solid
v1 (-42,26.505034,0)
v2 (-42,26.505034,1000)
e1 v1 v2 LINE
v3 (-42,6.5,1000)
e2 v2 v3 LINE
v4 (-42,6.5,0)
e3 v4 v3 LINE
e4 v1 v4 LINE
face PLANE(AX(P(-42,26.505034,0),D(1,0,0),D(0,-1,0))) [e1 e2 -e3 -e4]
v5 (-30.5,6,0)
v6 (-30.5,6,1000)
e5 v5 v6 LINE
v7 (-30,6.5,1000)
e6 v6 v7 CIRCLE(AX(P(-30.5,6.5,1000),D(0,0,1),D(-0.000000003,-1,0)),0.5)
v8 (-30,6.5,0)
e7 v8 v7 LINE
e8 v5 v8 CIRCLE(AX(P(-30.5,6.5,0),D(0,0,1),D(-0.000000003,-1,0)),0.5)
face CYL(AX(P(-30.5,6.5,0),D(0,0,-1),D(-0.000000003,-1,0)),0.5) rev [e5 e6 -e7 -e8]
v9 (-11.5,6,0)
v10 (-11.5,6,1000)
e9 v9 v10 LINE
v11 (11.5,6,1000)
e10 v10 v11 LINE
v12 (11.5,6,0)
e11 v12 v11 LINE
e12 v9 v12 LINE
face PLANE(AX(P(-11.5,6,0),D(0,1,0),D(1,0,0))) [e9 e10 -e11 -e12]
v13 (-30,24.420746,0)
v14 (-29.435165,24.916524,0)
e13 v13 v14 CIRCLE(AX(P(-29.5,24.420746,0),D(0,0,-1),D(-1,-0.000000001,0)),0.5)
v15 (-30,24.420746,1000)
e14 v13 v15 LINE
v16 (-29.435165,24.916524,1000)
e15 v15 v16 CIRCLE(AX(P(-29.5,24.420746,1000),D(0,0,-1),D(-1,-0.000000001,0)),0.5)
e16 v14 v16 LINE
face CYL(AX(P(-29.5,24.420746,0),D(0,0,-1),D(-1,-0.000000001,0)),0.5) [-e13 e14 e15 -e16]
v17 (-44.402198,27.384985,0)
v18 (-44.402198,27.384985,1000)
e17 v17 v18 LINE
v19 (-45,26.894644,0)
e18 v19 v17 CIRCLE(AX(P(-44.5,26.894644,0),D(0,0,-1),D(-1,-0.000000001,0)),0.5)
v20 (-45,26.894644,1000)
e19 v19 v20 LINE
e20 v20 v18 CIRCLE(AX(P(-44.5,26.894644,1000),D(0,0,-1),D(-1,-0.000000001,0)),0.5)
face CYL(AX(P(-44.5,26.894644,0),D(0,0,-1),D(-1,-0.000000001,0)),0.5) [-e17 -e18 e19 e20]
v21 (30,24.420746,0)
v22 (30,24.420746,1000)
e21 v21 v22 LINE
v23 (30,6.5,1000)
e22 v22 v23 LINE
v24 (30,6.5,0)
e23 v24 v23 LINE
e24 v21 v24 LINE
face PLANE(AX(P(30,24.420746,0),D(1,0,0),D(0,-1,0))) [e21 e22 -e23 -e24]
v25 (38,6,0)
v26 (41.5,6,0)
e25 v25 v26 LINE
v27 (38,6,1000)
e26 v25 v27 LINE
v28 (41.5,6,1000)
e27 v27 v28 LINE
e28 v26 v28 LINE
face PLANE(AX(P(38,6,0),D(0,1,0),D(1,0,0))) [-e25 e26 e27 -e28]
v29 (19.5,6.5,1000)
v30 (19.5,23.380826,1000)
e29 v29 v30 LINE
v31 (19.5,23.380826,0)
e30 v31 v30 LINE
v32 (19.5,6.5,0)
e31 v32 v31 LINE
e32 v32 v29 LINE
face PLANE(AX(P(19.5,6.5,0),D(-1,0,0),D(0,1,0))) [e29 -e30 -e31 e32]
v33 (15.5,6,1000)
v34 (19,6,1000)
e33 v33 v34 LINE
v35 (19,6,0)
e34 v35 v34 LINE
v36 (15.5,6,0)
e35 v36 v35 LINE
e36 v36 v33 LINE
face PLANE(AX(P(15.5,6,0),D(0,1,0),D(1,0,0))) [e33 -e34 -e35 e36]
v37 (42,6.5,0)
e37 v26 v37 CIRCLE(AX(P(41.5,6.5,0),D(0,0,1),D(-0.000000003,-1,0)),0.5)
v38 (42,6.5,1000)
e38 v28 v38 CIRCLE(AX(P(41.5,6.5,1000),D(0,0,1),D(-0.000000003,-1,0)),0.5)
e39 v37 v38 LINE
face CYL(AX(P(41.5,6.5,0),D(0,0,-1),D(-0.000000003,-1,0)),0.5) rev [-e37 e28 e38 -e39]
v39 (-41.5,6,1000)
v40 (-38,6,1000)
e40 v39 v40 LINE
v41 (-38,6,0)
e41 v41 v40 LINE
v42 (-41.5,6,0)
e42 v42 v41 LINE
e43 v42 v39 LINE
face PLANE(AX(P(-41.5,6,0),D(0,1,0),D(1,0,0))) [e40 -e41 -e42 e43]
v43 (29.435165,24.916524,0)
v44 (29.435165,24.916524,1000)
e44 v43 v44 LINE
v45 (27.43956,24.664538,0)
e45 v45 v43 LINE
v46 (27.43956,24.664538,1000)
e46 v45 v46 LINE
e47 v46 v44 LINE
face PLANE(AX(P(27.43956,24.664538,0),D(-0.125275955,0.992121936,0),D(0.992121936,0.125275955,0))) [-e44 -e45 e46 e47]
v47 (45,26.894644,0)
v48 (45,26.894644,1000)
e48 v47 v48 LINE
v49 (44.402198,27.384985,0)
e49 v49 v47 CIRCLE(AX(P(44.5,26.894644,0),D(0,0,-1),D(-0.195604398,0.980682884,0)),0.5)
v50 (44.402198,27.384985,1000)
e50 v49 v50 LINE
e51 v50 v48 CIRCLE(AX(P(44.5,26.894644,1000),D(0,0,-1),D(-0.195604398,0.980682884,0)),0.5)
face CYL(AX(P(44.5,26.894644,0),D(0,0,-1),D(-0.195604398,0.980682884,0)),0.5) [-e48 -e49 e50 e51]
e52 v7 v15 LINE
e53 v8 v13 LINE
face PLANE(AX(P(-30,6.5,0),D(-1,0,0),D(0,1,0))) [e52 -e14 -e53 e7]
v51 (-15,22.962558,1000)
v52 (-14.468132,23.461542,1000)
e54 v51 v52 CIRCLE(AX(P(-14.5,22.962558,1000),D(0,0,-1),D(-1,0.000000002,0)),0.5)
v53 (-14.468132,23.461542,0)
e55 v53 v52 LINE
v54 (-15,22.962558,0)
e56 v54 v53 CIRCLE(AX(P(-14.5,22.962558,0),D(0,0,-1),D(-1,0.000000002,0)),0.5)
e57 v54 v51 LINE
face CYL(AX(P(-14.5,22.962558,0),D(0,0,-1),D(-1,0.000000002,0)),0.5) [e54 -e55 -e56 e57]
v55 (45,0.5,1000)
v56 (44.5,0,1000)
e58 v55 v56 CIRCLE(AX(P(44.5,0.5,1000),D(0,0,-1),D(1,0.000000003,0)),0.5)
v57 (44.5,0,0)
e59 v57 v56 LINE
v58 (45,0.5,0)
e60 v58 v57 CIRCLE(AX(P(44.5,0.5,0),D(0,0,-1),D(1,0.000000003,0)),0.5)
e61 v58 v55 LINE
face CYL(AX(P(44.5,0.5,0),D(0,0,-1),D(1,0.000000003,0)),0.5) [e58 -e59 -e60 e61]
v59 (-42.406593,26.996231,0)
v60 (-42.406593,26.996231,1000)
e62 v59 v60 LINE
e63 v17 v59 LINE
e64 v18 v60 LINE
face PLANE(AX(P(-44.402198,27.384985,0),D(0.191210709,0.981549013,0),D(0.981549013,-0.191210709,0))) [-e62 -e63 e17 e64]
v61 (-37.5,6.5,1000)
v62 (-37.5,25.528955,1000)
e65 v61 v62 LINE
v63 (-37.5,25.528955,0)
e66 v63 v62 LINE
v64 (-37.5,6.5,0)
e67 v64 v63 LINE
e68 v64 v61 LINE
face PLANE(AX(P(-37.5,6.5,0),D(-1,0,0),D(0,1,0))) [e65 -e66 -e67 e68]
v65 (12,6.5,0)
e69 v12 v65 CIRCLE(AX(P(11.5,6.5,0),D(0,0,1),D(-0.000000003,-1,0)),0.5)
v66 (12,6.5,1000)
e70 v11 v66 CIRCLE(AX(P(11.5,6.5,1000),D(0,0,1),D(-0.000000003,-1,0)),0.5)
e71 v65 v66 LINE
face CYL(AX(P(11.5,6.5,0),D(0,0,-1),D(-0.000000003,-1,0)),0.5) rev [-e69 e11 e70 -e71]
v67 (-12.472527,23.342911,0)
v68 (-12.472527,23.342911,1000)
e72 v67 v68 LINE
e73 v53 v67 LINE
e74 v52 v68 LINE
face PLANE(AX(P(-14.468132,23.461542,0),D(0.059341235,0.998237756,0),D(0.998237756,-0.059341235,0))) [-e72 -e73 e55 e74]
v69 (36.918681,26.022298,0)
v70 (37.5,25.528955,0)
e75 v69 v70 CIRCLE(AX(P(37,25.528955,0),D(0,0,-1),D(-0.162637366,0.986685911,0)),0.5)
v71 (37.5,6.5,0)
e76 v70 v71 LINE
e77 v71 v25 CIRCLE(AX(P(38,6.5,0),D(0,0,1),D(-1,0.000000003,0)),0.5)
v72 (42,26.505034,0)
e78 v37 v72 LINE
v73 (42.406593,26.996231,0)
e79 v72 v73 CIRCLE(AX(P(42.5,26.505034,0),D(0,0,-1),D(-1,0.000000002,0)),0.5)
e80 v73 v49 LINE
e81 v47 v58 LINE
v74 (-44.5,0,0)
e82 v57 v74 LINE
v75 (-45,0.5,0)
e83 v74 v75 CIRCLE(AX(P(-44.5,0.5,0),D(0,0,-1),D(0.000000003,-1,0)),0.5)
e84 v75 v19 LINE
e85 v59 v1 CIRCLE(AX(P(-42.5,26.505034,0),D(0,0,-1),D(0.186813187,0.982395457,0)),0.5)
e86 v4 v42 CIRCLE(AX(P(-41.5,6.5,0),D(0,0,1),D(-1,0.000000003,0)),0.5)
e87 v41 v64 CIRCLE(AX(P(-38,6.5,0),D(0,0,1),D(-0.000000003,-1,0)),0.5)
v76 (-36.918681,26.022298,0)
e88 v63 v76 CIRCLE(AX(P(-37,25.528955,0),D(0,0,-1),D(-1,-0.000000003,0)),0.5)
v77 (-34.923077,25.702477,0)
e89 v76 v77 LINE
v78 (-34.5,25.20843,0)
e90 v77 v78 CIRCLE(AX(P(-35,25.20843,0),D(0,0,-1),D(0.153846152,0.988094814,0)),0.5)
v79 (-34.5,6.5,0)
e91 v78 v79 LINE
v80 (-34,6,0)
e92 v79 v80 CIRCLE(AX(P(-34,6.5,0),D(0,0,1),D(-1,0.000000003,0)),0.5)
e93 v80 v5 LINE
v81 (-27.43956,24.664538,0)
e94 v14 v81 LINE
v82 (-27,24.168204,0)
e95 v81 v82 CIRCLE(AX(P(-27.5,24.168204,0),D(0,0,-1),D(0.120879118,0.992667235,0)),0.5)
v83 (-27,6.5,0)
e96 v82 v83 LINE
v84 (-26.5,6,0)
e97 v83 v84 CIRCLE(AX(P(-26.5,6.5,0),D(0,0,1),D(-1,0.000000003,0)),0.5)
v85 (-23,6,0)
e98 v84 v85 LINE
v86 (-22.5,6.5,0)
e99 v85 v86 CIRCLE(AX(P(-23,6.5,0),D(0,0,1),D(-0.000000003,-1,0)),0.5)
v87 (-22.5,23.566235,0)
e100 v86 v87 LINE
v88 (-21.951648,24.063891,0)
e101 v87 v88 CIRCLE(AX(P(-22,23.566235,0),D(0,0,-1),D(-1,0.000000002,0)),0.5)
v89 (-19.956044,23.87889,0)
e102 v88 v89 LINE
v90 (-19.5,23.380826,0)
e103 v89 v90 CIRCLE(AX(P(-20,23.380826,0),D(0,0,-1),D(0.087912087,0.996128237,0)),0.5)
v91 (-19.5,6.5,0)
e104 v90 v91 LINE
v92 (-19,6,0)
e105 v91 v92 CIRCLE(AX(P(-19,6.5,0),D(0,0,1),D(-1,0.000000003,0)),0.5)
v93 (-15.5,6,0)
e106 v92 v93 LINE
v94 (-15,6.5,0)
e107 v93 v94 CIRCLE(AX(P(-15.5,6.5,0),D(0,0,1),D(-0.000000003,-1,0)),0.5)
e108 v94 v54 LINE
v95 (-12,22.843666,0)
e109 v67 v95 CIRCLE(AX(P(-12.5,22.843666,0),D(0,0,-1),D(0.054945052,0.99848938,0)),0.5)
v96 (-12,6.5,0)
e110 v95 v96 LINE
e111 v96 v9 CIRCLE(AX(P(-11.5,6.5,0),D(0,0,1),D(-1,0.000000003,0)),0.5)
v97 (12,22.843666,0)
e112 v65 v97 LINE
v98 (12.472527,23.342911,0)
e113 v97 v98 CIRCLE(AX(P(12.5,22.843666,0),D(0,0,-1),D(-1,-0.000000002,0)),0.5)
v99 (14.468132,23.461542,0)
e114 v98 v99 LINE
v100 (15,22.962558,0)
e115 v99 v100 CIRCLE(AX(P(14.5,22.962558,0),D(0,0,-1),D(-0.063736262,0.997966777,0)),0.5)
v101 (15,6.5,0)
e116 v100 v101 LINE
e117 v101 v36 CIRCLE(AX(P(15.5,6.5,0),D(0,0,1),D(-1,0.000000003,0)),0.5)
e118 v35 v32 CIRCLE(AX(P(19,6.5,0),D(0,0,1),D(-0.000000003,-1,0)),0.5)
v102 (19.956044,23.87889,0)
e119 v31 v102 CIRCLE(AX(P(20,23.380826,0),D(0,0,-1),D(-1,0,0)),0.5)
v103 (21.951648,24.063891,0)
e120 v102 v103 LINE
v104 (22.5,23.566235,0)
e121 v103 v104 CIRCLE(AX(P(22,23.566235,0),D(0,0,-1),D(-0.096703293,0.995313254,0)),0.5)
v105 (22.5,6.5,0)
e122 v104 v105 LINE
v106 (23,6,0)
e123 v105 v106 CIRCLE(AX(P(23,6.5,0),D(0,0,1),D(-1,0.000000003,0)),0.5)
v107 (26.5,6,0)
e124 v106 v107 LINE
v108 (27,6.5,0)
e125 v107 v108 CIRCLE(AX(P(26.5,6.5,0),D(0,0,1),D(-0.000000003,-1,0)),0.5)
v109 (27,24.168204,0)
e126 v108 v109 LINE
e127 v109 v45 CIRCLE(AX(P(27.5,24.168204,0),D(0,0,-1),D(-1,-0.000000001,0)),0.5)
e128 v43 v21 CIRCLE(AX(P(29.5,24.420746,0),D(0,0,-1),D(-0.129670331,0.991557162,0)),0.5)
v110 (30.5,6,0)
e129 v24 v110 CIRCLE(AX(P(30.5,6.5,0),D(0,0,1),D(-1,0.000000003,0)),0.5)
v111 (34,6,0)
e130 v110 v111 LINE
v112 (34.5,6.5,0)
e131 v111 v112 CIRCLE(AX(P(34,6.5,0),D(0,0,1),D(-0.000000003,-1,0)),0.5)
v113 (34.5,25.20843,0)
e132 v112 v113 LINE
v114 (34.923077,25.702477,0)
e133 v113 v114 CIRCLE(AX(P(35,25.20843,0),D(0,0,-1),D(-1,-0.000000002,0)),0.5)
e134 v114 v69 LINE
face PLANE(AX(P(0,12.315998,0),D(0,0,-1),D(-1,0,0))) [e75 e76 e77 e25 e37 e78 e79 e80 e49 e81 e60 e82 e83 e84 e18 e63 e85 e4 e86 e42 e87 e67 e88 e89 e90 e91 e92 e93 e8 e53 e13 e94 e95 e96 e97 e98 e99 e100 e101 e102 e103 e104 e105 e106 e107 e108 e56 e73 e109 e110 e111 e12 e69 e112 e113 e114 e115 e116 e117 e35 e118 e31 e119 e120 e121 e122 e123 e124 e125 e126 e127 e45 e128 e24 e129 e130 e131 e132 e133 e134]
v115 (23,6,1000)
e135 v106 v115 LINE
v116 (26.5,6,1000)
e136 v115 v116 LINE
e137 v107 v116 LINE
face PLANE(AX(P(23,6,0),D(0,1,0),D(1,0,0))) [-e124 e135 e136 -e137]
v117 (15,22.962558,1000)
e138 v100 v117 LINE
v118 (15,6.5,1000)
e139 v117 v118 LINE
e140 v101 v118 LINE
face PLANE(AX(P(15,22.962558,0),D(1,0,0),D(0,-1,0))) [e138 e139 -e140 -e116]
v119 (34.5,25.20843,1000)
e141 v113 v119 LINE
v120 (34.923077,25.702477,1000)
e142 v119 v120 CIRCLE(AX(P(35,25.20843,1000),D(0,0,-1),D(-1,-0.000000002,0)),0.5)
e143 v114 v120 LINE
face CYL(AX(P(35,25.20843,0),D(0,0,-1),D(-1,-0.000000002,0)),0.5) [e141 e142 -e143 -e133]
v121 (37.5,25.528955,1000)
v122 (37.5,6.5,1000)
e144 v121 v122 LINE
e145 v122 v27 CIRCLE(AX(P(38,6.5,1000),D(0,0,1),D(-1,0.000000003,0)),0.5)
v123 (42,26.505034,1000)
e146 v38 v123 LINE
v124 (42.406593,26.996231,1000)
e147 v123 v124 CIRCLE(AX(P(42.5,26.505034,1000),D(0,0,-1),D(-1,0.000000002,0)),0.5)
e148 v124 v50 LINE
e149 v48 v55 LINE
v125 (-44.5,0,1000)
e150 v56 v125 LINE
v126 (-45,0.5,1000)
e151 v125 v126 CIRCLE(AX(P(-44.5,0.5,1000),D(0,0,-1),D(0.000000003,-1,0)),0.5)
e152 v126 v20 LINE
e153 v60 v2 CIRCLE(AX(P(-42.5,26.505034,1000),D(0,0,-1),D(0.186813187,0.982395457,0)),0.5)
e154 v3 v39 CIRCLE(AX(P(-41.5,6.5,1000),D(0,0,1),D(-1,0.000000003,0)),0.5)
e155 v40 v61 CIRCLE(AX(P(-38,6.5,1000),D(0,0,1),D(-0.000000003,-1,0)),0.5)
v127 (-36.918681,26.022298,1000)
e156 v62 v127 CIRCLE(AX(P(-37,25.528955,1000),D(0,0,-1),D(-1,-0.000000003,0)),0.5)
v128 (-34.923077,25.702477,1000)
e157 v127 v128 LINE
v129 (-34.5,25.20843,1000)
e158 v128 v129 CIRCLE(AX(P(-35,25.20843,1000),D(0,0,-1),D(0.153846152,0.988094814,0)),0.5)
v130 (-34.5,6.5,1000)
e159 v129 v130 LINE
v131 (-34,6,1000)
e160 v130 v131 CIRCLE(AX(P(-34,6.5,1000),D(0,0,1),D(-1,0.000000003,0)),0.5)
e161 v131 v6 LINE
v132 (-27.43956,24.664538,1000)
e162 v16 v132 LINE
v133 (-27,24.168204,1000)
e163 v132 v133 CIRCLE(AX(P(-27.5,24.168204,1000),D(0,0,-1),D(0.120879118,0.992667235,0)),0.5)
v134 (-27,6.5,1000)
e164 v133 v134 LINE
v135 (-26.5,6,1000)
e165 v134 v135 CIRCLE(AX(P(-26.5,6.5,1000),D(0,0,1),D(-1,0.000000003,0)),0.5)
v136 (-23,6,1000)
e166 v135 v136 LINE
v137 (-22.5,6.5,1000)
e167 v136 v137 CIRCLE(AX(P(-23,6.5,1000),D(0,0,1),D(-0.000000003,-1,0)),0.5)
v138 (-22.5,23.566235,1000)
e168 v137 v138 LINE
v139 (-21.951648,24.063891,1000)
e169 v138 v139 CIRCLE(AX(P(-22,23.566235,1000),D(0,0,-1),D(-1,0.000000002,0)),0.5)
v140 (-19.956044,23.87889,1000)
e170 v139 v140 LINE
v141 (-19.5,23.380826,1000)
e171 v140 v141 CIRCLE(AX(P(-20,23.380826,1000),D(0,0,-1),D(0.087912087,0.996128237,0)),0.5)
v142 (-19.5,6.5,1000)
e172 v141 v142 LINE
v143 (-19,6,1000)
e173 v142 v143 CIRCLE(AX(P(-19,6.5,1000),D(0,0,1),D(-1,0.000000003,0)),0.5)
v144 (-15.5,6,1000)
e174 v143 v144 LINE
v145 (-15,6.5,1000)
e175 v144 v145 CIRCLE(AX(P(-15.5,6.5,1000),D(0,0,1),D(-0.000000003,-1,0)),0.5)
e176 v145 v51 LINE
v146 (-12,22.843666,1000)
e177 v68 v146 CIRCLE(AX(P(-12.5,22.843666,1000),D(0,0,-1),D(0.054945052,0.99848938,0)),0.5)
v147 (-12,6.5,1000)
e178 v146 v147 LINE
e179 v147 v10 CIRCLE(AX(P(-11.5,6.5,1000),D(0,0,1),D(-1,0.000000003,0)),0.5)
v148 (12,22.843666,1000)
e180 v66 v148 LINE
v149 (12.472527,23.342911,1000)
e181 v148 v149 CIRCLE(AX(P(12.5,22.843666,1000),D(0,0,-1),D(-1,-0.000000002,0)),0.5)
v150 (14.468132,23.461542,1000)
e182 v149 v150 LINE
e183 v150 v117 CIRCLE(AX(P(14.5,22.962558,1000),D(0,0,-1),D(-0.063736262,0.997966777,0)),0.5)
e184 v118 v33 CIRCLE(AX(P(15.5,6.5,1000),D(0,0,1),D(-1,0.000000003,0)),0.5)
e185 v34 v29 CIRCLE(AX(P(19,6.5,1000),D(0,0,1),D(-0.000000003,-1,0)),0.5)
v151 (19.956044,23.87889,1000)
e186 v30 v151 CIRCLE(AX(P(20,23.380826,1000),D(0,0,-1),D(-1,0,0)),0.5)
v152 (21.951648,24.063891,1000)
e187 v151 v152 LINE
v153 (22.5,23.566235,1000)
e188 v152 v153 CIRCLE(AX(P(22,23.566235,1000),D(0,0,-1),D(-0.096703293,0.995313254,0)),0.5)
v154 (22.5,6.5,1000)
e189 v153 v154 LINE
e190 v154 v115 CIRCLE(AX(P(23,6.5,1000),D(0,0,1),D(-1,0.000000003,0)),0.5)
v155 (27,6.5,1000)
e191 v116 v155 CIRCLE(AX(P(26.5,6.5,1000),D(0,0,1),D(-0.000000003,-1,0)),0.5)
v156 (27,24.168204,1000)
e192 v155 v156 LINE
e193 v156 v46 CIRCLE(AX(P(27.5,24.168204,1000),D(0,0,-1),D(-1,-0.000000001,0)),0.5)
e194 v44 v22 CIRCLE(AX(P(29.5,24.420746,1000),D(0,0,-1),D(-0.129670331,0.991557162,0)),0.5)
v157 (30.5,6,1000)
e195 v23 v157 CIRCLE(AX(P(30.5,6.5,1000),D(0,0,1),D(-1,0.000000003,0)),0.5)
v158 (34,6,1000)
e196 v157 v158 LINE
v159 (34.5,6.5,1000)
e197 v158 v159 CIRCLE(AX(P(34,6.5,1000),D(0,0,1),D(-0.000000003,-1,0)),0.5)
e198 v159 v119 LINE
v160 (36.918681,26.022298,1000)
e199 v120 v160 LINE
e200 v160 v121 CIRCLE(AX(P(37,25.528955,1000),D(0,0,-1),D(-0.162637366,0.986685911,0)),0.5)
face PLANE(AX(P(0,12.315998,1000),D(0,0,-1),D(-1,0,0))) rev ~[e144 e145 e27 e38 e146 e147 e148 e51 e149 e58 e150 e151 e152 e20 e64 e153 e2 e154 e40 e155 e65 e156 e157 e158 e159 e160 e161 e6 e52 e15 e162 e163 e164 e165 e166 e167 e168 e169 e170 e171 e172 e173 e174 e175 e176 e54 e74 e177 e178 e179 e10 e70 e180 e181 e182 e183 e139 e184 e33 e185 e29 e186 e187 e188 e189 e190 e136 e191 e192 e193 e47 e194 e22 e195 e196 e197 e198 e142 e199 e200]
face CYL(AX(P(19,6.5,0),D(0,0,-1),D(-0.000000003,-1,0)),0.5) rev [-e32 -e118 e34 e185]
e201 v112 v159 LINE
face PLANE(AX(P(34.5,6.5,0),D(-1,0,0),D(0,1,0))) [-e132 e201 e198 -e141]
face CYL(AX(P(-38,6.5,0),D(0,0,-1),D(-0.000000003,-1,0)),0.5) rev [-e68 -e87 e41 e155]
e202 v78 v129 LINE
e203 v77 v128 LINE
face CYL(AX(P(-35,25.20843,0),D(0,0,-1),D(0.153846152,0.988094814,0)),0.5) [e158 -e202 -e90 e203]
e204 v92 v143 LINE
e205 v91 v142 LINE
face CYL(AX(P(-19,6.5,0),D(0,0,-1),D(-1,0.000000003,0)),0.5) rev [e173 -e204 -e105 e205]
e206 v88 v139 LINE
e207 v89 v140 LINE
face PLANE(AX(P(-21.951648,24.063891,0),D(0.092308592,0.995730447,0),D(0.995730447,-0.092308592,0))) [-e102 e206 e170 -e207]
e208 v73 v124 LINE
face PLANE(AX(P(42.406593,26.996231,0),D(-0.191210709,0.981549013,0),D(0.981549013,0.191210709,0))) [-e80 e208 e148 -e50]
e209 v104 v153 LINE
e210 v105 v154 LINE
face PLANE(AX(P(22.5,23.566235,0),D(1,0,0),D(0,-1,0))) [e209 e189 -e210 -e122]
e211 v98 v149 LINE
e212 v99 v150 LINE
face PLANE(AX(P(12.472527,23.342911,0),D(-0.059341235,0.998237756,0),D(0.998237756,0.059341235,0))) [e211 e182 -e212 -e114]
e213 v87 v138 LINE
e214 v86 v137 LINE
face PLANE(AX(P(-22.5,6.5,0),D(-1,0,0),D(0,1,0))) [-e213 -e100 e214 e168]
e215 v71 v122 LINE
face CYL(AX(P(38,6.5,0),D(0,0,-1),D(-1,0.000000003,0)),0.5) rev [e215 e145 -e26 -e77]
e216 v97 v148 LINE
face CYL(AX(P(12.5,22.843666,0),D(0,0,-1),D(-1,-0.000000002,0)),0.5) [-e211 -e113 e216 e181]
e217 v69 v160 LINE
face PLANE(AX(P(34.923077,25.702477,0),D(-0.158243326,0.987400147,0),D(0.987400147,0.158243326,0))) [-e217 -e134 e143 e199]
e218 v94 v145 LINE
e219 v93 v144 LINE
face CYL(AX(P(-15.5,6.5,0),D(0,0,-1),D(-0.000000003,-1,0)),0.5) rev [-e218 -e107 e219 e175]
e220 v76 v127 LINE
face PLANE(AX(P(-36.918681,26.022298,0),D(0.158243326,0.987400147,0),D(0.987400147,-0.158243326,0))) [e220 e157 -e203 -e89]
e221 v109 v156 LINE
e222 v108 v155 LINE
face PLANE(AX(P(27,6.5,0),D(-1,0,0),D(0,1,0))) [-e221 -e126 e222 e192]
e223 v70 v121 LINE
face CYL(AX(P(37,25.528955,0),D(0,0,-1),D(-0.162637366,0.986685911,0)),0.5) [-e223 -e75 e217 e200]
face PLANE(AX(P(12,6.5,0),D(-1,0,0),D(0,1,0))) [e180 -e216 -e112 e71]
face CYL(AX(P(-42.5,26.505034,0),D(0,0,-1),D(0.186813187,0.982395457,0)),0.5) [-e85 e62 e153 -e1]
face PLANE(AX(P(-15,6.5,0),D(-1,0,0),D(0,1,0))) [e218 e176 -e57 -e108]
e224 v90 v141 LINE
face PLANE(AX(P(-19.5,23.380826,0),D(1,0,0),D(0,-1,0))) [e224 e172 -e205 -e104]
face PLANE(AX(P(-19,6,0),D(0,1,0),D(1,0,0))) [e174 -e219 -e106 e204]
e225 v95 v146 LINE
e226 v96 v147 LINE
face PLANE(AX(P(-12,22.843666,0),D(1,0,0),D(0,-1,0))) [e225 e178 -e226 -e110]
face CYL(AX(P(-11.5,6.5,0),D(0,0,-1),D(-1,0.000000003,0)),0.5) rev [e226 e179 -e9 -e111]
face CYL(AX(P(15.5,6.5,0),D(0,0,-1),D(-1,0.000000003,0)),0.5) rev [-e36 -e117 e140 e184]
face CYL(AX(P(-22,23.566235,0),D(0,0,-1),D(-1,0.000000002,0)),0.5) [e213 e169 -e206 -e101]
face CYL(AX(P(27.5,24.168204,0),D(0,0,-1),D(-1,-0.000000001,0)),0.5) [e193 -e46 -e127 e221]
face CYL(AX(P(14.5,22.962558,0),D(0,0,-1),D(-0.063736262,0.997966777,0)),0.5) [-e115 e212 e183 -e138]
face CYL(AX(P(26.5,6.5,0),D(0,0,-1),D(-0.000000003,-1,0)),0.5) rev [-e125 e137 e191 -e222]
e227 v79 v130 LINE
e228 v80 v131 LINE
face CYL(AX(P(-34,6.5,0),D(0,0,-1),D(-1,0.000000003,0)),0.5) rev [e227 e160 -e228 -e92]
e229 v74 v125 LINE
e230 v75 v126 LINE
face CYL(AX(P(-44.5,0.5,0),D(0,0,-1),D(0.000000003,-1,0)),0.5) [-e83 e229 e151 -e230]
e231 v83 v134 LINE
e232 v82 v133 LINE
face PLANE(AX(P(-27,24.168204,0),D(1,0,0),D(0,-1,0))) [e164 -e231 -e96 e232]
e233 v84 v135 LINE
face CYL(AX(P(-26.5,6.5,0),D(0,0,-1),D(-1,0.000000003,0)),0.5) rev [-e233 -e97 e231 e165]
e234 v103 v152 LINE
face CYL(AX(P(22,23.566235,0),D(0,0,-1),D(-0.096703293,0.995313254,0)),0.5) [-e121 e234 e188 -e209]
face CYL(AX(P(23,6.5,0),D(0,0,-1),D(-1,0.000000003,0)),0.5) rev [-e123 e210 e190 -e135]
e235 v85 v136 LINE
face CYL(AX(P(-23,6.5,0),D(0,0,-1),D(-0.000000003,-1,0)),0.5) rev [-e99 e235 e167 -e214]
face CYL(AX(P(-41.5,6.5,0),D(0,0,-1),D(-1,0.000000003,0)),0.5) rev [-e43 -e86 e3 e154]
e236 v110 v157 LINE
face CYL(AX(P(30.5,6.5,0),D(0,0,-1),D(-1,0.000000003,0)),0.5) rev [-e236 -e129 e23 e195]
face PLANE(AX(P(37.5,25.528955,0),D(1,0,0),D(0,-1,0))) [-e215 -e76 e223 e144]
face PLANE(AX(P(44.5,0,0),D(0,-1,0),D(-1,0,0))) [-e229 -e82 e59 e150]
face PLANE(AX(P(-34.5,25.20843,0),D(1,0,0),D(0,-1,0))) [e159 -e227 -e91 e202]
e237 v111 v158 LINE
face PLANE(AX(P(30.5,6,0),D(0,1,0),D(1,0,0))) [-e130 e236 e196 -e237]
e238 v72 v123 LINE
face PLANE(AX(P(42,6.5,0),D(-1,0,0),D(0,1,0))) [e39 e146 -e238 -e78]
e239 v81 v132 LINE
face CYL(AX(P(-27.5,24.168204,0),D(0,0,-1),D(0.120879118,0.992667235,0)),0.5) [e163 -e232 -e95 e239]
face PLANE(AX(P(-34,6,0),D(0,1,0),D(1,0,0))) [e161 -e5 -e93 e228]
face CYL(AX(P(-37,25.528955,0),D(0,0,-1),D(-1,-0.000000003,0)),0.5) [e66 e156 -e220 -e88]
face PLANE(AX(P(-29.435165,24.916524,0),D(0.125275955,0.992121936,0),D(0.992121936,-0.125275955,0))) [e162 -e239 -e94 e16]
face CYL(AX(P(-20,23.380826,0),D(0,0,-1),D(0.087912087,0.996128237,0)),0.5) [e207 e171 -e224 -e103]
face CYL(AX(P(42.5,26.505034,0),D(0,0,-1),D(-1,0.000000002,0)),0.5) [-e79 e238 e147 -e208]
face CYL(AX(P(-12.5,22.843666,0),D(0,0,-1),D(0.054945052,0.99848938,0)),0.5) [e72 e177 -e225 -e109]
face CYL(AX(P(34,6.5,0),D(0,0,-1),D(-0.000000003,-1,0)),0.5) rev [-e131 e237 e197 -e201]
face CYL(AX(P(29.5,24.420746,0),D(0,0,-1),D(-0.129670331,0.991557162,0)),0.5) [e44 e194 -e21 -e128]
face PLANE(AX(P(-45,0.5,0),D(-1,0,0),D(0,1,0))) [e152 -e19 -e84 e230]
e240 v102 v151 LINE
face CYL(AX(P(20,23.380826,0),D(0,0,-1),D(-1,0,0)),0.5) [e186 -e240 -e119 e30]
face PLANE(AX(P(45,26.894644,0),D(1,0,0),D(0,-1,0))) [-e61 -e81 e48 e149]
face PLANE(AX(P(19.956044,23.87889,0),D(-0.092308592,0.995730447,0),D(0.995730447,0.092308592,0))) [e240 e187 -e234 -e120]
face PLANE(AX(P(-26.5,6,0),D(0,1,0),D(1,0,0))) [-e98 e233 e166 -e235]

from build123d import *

# Parameters (mm, degrees)
EXTRUDE_1_DEPTH = 1000


with BuildPart() as part:
    # Model → Бобышка-Вытянуть1 (new body)
    with BuildSketch(Plane.XY):
        with BuildLine():
            Line((-45, 0.5), (-45, 26.894643722))
            ThreePointArc((-45, 26.894643722), (-44.817095334, 27.281232068), (-44.402197802, 27.384985164))
            Line((-44.402197802, 27.384985164), (-42.406593407, 26.996231342))
            ThreePointArc((-42.406593407, 26.996231342), (-42.114835557, 26.823857), (-42, 26.505033614))
            Line((-42, 26.505033614), (-42, 6.5))
            ThreePointArc((-42, 6.5), (-41.853553391, 6.146446609), (-41.5, 6))
            Line((-41.5, 6), (-38, 6))
            ThreePointArc((-38, 6), (-37.646446609, 6.146446609), (-37.5, 6.5))
            Line((-37.5, 6.5), (-37.5, 25.528955097))
            ThreePointArc((-37.5, 25.528955097), (-37.323527943, 25.910176385), (-36.918681319, 26.022298052))
            Line((-36.918681319, 26.022298052), (-34.923076923, 25.70247728))
            ThreePointArc((-34.923076923, 25.70247728), (-34.620222737, 25.533651691), (-34.5, 25.208429873))
            Line((-34.5, 25.208429873), (-34.5, 6.5))
            ThreePointArc((-34.5, 6.5), (-34.353553391, 6.146446609), (-34, 6))
            Line((-34, 6), (-30.5, 6))
            ThreePointArc((-30.5, 6), (-30.146446609, 6.146446609), (-30, 6.5))
            Line((-30, 6.5), (-30, 24.420745635))
            ThreePointArc((-30, 24.420745635), (-29.829835124, 24.796523217), (-29.435164835, 24.916524216))
            Line((-29.435164835, 24.916524216), (-27.43956044, 24.664537804))
            ThreePointArc((-27.43956044, 24.664537804), (-27.125687443, 24.499700959), (-27, 24.168204187))
            Line((-27, 24.168204187), (-27, 6.5))
            ThreePointArc((-27, 6.5), (-26.853553391, 6.146446609), (-26.5, 6))
            Line((-26.5, 6), (-23, 6))
            ThreePointArc((-23, 6), (-22.646446609, 6.146446609), (-22.5, 6.5))
            Line((-22.5, 6.5), (-22.5, 23.56623485))
            ThreePointArc((-22.5, 23.56623485), (-22.336023939, 23.936488698), (-21.951648352, 24.063891477))
            Line((-21.951648352, 24.063891477), (-19.956043956, 23.878890172))
            ThreePointArc((-19.956043956, 23.878890172), (-19.631233121, 23.718481187), (-19.5, 23.380826054))
            Line((-19.5, 23.380826054), (-19.5, 6.5))
            ThreePointArc((-19.5, 6.5), (-19.353553391, 6.146446609), (-19, 6))
            Line((-19, 6), (-15.5, 6))
            ThreePointArc((-15.5, 6), (-15.146446609, 6.146446609), (-15, 6.5))
            Line((-15, 6.5), (-15, 22.962558154))
            ThreePointArc((-15, 22.962558154), (-14.842100814, 23.327204603), (-14.468131868, 23.461541543))
            Line((-14.468131868, 23.461541543), (-12.472527473, 23.342910858))
            ThreePointArc((-12.472527473, 23.342910858), (-12.13686348, 23.187369337), (-12, 22.843666168))
            Line((-12, 22.843666168), (-12, 6.5))
            ThreePointArc((-12, 6.5), (-11.853553391, 6.146446609), (-11.5, 6))
            Line((-11.5, 6), (11.5, 6))
            ThreePointArc((11.5, 6), (11.853553391, 6.146446609), (12, 6.5))
            Line((12, 6.5), (12, 22.843666168))
            ThreePointArc((12, 22.843666168), (12.13686348, 23.187369337), (12.472527473, 23.342910858))
            Line((12.472527473, 23.342910858), (14.468131868, 23.461541543))
            ThreePointArc((14.468131868, 23.461541543), (14.842100814, 23.327204603), (15, 22.962558154))
            Line((15, 22.962558154), (15, 6.5))
            ThreePointArc((15, 6.5), (15.146446609, 6.146446609), (15.5, 6))
            Line((15.5, 6), (19, 6))
            ThreePointArc((19, 6), (19.353553391, 6.146446609), (19.5, 6.5))
            Line((19.5, 6.5), (19.5, 23.380826054))
            ThreePointArc((19.5, 23.380826054), (19.631233121, 23.718481187), (19.956043956, 23.878890172))
            Line((19.956043956, 23.878890172), (21.951648352, 24.063891477))
            ThreePointArc((21.951648352, 24.063891477), (22.336023939, 23.936488698), (22.5, 23.56623485))
            Line((22.5, 23.56623485), (22.5, 6.5))
            ThreePointArc((22.5, 6.5), (22.646446609, 6.146446609), (23, 6))
            Line((23, 6), (26.5, 6))
            ThreePointArc((26.5, 6), (26.853553391, 6.146446609), (27, 6.5))
            Line((27, 6.5), (27, 24.168204187))
            ThreePointArc((27, 24.168204187), (27.125687443, 24.499700959), (27.43956044, 24.664537804))
            Line((27.43956044, 24.664537804), (29.435164835, 24.916524216))
            ThreePointArc((29.435164835, 24.916524216), (29.829835124, 24.796523217), (30, 24.420745635))
            Line((30, 24.420745635), (30, 6.5))
            ThreePointArc((30, 6.5), (30.146446609, 6.146446609), (30.5, 6))
            Line((30.5, 6), (34, 6))
            ThreePointArc((34, 6), (34.353553391, 6.146446609), (34.5, 6.5))
            Line((34.5, 6.5), (34.5, 25.208429873))
            ThreePointArc((34.5, 25.208429873), (34.620222737, 25.533651691), (34.923076923, 25.70247728))
            Line((34.923076923, 25.70247728), (36.918681319, 26.022298052))
            ThreePointArc((36.918681319, 26.022298052), (37.323527943, 25.910176385), (37.5, 25.528955097))
            Line((37.5, 25.528955097), (37.5, 6.5))
            ThreePointArc((37.5, 6.5), (37.646446609, 6.146446609), (38, 6))
            Line((38, 6), (41.5, 6))
            ThreePointArc((41.5, 6), (41.853553391, 6.146446609), (42, 6.5))
            Line((42, 6.5), (42, 26.505033614))
            ThreePointArc((42, 26.505033614), (42.114835557, 26.823857), (42.406593407, 26.996231342))
            Line((42.406593407, 26.996231342), (44.402197802, 27.384985164))
            ThreePointArc((44.402197802, 27.384985164), (44.817095334, 27.281232068), (45, 26.894643722))
            Line((45, 26.894643722), (45, 0.5))
            ThreePointArc((45, 0.5), (44.853553391, 0.146446609), (44.5, 0))
            Line((44.5, 0), (-44.5, 0))
            ThreePointArc((-44.5, 0), (-44.853553391, 0.146446609), (-45, 0.5))
        make_face()
    extrude(amount=EXTRUDE_1_DEPTH)


solid = part.part
